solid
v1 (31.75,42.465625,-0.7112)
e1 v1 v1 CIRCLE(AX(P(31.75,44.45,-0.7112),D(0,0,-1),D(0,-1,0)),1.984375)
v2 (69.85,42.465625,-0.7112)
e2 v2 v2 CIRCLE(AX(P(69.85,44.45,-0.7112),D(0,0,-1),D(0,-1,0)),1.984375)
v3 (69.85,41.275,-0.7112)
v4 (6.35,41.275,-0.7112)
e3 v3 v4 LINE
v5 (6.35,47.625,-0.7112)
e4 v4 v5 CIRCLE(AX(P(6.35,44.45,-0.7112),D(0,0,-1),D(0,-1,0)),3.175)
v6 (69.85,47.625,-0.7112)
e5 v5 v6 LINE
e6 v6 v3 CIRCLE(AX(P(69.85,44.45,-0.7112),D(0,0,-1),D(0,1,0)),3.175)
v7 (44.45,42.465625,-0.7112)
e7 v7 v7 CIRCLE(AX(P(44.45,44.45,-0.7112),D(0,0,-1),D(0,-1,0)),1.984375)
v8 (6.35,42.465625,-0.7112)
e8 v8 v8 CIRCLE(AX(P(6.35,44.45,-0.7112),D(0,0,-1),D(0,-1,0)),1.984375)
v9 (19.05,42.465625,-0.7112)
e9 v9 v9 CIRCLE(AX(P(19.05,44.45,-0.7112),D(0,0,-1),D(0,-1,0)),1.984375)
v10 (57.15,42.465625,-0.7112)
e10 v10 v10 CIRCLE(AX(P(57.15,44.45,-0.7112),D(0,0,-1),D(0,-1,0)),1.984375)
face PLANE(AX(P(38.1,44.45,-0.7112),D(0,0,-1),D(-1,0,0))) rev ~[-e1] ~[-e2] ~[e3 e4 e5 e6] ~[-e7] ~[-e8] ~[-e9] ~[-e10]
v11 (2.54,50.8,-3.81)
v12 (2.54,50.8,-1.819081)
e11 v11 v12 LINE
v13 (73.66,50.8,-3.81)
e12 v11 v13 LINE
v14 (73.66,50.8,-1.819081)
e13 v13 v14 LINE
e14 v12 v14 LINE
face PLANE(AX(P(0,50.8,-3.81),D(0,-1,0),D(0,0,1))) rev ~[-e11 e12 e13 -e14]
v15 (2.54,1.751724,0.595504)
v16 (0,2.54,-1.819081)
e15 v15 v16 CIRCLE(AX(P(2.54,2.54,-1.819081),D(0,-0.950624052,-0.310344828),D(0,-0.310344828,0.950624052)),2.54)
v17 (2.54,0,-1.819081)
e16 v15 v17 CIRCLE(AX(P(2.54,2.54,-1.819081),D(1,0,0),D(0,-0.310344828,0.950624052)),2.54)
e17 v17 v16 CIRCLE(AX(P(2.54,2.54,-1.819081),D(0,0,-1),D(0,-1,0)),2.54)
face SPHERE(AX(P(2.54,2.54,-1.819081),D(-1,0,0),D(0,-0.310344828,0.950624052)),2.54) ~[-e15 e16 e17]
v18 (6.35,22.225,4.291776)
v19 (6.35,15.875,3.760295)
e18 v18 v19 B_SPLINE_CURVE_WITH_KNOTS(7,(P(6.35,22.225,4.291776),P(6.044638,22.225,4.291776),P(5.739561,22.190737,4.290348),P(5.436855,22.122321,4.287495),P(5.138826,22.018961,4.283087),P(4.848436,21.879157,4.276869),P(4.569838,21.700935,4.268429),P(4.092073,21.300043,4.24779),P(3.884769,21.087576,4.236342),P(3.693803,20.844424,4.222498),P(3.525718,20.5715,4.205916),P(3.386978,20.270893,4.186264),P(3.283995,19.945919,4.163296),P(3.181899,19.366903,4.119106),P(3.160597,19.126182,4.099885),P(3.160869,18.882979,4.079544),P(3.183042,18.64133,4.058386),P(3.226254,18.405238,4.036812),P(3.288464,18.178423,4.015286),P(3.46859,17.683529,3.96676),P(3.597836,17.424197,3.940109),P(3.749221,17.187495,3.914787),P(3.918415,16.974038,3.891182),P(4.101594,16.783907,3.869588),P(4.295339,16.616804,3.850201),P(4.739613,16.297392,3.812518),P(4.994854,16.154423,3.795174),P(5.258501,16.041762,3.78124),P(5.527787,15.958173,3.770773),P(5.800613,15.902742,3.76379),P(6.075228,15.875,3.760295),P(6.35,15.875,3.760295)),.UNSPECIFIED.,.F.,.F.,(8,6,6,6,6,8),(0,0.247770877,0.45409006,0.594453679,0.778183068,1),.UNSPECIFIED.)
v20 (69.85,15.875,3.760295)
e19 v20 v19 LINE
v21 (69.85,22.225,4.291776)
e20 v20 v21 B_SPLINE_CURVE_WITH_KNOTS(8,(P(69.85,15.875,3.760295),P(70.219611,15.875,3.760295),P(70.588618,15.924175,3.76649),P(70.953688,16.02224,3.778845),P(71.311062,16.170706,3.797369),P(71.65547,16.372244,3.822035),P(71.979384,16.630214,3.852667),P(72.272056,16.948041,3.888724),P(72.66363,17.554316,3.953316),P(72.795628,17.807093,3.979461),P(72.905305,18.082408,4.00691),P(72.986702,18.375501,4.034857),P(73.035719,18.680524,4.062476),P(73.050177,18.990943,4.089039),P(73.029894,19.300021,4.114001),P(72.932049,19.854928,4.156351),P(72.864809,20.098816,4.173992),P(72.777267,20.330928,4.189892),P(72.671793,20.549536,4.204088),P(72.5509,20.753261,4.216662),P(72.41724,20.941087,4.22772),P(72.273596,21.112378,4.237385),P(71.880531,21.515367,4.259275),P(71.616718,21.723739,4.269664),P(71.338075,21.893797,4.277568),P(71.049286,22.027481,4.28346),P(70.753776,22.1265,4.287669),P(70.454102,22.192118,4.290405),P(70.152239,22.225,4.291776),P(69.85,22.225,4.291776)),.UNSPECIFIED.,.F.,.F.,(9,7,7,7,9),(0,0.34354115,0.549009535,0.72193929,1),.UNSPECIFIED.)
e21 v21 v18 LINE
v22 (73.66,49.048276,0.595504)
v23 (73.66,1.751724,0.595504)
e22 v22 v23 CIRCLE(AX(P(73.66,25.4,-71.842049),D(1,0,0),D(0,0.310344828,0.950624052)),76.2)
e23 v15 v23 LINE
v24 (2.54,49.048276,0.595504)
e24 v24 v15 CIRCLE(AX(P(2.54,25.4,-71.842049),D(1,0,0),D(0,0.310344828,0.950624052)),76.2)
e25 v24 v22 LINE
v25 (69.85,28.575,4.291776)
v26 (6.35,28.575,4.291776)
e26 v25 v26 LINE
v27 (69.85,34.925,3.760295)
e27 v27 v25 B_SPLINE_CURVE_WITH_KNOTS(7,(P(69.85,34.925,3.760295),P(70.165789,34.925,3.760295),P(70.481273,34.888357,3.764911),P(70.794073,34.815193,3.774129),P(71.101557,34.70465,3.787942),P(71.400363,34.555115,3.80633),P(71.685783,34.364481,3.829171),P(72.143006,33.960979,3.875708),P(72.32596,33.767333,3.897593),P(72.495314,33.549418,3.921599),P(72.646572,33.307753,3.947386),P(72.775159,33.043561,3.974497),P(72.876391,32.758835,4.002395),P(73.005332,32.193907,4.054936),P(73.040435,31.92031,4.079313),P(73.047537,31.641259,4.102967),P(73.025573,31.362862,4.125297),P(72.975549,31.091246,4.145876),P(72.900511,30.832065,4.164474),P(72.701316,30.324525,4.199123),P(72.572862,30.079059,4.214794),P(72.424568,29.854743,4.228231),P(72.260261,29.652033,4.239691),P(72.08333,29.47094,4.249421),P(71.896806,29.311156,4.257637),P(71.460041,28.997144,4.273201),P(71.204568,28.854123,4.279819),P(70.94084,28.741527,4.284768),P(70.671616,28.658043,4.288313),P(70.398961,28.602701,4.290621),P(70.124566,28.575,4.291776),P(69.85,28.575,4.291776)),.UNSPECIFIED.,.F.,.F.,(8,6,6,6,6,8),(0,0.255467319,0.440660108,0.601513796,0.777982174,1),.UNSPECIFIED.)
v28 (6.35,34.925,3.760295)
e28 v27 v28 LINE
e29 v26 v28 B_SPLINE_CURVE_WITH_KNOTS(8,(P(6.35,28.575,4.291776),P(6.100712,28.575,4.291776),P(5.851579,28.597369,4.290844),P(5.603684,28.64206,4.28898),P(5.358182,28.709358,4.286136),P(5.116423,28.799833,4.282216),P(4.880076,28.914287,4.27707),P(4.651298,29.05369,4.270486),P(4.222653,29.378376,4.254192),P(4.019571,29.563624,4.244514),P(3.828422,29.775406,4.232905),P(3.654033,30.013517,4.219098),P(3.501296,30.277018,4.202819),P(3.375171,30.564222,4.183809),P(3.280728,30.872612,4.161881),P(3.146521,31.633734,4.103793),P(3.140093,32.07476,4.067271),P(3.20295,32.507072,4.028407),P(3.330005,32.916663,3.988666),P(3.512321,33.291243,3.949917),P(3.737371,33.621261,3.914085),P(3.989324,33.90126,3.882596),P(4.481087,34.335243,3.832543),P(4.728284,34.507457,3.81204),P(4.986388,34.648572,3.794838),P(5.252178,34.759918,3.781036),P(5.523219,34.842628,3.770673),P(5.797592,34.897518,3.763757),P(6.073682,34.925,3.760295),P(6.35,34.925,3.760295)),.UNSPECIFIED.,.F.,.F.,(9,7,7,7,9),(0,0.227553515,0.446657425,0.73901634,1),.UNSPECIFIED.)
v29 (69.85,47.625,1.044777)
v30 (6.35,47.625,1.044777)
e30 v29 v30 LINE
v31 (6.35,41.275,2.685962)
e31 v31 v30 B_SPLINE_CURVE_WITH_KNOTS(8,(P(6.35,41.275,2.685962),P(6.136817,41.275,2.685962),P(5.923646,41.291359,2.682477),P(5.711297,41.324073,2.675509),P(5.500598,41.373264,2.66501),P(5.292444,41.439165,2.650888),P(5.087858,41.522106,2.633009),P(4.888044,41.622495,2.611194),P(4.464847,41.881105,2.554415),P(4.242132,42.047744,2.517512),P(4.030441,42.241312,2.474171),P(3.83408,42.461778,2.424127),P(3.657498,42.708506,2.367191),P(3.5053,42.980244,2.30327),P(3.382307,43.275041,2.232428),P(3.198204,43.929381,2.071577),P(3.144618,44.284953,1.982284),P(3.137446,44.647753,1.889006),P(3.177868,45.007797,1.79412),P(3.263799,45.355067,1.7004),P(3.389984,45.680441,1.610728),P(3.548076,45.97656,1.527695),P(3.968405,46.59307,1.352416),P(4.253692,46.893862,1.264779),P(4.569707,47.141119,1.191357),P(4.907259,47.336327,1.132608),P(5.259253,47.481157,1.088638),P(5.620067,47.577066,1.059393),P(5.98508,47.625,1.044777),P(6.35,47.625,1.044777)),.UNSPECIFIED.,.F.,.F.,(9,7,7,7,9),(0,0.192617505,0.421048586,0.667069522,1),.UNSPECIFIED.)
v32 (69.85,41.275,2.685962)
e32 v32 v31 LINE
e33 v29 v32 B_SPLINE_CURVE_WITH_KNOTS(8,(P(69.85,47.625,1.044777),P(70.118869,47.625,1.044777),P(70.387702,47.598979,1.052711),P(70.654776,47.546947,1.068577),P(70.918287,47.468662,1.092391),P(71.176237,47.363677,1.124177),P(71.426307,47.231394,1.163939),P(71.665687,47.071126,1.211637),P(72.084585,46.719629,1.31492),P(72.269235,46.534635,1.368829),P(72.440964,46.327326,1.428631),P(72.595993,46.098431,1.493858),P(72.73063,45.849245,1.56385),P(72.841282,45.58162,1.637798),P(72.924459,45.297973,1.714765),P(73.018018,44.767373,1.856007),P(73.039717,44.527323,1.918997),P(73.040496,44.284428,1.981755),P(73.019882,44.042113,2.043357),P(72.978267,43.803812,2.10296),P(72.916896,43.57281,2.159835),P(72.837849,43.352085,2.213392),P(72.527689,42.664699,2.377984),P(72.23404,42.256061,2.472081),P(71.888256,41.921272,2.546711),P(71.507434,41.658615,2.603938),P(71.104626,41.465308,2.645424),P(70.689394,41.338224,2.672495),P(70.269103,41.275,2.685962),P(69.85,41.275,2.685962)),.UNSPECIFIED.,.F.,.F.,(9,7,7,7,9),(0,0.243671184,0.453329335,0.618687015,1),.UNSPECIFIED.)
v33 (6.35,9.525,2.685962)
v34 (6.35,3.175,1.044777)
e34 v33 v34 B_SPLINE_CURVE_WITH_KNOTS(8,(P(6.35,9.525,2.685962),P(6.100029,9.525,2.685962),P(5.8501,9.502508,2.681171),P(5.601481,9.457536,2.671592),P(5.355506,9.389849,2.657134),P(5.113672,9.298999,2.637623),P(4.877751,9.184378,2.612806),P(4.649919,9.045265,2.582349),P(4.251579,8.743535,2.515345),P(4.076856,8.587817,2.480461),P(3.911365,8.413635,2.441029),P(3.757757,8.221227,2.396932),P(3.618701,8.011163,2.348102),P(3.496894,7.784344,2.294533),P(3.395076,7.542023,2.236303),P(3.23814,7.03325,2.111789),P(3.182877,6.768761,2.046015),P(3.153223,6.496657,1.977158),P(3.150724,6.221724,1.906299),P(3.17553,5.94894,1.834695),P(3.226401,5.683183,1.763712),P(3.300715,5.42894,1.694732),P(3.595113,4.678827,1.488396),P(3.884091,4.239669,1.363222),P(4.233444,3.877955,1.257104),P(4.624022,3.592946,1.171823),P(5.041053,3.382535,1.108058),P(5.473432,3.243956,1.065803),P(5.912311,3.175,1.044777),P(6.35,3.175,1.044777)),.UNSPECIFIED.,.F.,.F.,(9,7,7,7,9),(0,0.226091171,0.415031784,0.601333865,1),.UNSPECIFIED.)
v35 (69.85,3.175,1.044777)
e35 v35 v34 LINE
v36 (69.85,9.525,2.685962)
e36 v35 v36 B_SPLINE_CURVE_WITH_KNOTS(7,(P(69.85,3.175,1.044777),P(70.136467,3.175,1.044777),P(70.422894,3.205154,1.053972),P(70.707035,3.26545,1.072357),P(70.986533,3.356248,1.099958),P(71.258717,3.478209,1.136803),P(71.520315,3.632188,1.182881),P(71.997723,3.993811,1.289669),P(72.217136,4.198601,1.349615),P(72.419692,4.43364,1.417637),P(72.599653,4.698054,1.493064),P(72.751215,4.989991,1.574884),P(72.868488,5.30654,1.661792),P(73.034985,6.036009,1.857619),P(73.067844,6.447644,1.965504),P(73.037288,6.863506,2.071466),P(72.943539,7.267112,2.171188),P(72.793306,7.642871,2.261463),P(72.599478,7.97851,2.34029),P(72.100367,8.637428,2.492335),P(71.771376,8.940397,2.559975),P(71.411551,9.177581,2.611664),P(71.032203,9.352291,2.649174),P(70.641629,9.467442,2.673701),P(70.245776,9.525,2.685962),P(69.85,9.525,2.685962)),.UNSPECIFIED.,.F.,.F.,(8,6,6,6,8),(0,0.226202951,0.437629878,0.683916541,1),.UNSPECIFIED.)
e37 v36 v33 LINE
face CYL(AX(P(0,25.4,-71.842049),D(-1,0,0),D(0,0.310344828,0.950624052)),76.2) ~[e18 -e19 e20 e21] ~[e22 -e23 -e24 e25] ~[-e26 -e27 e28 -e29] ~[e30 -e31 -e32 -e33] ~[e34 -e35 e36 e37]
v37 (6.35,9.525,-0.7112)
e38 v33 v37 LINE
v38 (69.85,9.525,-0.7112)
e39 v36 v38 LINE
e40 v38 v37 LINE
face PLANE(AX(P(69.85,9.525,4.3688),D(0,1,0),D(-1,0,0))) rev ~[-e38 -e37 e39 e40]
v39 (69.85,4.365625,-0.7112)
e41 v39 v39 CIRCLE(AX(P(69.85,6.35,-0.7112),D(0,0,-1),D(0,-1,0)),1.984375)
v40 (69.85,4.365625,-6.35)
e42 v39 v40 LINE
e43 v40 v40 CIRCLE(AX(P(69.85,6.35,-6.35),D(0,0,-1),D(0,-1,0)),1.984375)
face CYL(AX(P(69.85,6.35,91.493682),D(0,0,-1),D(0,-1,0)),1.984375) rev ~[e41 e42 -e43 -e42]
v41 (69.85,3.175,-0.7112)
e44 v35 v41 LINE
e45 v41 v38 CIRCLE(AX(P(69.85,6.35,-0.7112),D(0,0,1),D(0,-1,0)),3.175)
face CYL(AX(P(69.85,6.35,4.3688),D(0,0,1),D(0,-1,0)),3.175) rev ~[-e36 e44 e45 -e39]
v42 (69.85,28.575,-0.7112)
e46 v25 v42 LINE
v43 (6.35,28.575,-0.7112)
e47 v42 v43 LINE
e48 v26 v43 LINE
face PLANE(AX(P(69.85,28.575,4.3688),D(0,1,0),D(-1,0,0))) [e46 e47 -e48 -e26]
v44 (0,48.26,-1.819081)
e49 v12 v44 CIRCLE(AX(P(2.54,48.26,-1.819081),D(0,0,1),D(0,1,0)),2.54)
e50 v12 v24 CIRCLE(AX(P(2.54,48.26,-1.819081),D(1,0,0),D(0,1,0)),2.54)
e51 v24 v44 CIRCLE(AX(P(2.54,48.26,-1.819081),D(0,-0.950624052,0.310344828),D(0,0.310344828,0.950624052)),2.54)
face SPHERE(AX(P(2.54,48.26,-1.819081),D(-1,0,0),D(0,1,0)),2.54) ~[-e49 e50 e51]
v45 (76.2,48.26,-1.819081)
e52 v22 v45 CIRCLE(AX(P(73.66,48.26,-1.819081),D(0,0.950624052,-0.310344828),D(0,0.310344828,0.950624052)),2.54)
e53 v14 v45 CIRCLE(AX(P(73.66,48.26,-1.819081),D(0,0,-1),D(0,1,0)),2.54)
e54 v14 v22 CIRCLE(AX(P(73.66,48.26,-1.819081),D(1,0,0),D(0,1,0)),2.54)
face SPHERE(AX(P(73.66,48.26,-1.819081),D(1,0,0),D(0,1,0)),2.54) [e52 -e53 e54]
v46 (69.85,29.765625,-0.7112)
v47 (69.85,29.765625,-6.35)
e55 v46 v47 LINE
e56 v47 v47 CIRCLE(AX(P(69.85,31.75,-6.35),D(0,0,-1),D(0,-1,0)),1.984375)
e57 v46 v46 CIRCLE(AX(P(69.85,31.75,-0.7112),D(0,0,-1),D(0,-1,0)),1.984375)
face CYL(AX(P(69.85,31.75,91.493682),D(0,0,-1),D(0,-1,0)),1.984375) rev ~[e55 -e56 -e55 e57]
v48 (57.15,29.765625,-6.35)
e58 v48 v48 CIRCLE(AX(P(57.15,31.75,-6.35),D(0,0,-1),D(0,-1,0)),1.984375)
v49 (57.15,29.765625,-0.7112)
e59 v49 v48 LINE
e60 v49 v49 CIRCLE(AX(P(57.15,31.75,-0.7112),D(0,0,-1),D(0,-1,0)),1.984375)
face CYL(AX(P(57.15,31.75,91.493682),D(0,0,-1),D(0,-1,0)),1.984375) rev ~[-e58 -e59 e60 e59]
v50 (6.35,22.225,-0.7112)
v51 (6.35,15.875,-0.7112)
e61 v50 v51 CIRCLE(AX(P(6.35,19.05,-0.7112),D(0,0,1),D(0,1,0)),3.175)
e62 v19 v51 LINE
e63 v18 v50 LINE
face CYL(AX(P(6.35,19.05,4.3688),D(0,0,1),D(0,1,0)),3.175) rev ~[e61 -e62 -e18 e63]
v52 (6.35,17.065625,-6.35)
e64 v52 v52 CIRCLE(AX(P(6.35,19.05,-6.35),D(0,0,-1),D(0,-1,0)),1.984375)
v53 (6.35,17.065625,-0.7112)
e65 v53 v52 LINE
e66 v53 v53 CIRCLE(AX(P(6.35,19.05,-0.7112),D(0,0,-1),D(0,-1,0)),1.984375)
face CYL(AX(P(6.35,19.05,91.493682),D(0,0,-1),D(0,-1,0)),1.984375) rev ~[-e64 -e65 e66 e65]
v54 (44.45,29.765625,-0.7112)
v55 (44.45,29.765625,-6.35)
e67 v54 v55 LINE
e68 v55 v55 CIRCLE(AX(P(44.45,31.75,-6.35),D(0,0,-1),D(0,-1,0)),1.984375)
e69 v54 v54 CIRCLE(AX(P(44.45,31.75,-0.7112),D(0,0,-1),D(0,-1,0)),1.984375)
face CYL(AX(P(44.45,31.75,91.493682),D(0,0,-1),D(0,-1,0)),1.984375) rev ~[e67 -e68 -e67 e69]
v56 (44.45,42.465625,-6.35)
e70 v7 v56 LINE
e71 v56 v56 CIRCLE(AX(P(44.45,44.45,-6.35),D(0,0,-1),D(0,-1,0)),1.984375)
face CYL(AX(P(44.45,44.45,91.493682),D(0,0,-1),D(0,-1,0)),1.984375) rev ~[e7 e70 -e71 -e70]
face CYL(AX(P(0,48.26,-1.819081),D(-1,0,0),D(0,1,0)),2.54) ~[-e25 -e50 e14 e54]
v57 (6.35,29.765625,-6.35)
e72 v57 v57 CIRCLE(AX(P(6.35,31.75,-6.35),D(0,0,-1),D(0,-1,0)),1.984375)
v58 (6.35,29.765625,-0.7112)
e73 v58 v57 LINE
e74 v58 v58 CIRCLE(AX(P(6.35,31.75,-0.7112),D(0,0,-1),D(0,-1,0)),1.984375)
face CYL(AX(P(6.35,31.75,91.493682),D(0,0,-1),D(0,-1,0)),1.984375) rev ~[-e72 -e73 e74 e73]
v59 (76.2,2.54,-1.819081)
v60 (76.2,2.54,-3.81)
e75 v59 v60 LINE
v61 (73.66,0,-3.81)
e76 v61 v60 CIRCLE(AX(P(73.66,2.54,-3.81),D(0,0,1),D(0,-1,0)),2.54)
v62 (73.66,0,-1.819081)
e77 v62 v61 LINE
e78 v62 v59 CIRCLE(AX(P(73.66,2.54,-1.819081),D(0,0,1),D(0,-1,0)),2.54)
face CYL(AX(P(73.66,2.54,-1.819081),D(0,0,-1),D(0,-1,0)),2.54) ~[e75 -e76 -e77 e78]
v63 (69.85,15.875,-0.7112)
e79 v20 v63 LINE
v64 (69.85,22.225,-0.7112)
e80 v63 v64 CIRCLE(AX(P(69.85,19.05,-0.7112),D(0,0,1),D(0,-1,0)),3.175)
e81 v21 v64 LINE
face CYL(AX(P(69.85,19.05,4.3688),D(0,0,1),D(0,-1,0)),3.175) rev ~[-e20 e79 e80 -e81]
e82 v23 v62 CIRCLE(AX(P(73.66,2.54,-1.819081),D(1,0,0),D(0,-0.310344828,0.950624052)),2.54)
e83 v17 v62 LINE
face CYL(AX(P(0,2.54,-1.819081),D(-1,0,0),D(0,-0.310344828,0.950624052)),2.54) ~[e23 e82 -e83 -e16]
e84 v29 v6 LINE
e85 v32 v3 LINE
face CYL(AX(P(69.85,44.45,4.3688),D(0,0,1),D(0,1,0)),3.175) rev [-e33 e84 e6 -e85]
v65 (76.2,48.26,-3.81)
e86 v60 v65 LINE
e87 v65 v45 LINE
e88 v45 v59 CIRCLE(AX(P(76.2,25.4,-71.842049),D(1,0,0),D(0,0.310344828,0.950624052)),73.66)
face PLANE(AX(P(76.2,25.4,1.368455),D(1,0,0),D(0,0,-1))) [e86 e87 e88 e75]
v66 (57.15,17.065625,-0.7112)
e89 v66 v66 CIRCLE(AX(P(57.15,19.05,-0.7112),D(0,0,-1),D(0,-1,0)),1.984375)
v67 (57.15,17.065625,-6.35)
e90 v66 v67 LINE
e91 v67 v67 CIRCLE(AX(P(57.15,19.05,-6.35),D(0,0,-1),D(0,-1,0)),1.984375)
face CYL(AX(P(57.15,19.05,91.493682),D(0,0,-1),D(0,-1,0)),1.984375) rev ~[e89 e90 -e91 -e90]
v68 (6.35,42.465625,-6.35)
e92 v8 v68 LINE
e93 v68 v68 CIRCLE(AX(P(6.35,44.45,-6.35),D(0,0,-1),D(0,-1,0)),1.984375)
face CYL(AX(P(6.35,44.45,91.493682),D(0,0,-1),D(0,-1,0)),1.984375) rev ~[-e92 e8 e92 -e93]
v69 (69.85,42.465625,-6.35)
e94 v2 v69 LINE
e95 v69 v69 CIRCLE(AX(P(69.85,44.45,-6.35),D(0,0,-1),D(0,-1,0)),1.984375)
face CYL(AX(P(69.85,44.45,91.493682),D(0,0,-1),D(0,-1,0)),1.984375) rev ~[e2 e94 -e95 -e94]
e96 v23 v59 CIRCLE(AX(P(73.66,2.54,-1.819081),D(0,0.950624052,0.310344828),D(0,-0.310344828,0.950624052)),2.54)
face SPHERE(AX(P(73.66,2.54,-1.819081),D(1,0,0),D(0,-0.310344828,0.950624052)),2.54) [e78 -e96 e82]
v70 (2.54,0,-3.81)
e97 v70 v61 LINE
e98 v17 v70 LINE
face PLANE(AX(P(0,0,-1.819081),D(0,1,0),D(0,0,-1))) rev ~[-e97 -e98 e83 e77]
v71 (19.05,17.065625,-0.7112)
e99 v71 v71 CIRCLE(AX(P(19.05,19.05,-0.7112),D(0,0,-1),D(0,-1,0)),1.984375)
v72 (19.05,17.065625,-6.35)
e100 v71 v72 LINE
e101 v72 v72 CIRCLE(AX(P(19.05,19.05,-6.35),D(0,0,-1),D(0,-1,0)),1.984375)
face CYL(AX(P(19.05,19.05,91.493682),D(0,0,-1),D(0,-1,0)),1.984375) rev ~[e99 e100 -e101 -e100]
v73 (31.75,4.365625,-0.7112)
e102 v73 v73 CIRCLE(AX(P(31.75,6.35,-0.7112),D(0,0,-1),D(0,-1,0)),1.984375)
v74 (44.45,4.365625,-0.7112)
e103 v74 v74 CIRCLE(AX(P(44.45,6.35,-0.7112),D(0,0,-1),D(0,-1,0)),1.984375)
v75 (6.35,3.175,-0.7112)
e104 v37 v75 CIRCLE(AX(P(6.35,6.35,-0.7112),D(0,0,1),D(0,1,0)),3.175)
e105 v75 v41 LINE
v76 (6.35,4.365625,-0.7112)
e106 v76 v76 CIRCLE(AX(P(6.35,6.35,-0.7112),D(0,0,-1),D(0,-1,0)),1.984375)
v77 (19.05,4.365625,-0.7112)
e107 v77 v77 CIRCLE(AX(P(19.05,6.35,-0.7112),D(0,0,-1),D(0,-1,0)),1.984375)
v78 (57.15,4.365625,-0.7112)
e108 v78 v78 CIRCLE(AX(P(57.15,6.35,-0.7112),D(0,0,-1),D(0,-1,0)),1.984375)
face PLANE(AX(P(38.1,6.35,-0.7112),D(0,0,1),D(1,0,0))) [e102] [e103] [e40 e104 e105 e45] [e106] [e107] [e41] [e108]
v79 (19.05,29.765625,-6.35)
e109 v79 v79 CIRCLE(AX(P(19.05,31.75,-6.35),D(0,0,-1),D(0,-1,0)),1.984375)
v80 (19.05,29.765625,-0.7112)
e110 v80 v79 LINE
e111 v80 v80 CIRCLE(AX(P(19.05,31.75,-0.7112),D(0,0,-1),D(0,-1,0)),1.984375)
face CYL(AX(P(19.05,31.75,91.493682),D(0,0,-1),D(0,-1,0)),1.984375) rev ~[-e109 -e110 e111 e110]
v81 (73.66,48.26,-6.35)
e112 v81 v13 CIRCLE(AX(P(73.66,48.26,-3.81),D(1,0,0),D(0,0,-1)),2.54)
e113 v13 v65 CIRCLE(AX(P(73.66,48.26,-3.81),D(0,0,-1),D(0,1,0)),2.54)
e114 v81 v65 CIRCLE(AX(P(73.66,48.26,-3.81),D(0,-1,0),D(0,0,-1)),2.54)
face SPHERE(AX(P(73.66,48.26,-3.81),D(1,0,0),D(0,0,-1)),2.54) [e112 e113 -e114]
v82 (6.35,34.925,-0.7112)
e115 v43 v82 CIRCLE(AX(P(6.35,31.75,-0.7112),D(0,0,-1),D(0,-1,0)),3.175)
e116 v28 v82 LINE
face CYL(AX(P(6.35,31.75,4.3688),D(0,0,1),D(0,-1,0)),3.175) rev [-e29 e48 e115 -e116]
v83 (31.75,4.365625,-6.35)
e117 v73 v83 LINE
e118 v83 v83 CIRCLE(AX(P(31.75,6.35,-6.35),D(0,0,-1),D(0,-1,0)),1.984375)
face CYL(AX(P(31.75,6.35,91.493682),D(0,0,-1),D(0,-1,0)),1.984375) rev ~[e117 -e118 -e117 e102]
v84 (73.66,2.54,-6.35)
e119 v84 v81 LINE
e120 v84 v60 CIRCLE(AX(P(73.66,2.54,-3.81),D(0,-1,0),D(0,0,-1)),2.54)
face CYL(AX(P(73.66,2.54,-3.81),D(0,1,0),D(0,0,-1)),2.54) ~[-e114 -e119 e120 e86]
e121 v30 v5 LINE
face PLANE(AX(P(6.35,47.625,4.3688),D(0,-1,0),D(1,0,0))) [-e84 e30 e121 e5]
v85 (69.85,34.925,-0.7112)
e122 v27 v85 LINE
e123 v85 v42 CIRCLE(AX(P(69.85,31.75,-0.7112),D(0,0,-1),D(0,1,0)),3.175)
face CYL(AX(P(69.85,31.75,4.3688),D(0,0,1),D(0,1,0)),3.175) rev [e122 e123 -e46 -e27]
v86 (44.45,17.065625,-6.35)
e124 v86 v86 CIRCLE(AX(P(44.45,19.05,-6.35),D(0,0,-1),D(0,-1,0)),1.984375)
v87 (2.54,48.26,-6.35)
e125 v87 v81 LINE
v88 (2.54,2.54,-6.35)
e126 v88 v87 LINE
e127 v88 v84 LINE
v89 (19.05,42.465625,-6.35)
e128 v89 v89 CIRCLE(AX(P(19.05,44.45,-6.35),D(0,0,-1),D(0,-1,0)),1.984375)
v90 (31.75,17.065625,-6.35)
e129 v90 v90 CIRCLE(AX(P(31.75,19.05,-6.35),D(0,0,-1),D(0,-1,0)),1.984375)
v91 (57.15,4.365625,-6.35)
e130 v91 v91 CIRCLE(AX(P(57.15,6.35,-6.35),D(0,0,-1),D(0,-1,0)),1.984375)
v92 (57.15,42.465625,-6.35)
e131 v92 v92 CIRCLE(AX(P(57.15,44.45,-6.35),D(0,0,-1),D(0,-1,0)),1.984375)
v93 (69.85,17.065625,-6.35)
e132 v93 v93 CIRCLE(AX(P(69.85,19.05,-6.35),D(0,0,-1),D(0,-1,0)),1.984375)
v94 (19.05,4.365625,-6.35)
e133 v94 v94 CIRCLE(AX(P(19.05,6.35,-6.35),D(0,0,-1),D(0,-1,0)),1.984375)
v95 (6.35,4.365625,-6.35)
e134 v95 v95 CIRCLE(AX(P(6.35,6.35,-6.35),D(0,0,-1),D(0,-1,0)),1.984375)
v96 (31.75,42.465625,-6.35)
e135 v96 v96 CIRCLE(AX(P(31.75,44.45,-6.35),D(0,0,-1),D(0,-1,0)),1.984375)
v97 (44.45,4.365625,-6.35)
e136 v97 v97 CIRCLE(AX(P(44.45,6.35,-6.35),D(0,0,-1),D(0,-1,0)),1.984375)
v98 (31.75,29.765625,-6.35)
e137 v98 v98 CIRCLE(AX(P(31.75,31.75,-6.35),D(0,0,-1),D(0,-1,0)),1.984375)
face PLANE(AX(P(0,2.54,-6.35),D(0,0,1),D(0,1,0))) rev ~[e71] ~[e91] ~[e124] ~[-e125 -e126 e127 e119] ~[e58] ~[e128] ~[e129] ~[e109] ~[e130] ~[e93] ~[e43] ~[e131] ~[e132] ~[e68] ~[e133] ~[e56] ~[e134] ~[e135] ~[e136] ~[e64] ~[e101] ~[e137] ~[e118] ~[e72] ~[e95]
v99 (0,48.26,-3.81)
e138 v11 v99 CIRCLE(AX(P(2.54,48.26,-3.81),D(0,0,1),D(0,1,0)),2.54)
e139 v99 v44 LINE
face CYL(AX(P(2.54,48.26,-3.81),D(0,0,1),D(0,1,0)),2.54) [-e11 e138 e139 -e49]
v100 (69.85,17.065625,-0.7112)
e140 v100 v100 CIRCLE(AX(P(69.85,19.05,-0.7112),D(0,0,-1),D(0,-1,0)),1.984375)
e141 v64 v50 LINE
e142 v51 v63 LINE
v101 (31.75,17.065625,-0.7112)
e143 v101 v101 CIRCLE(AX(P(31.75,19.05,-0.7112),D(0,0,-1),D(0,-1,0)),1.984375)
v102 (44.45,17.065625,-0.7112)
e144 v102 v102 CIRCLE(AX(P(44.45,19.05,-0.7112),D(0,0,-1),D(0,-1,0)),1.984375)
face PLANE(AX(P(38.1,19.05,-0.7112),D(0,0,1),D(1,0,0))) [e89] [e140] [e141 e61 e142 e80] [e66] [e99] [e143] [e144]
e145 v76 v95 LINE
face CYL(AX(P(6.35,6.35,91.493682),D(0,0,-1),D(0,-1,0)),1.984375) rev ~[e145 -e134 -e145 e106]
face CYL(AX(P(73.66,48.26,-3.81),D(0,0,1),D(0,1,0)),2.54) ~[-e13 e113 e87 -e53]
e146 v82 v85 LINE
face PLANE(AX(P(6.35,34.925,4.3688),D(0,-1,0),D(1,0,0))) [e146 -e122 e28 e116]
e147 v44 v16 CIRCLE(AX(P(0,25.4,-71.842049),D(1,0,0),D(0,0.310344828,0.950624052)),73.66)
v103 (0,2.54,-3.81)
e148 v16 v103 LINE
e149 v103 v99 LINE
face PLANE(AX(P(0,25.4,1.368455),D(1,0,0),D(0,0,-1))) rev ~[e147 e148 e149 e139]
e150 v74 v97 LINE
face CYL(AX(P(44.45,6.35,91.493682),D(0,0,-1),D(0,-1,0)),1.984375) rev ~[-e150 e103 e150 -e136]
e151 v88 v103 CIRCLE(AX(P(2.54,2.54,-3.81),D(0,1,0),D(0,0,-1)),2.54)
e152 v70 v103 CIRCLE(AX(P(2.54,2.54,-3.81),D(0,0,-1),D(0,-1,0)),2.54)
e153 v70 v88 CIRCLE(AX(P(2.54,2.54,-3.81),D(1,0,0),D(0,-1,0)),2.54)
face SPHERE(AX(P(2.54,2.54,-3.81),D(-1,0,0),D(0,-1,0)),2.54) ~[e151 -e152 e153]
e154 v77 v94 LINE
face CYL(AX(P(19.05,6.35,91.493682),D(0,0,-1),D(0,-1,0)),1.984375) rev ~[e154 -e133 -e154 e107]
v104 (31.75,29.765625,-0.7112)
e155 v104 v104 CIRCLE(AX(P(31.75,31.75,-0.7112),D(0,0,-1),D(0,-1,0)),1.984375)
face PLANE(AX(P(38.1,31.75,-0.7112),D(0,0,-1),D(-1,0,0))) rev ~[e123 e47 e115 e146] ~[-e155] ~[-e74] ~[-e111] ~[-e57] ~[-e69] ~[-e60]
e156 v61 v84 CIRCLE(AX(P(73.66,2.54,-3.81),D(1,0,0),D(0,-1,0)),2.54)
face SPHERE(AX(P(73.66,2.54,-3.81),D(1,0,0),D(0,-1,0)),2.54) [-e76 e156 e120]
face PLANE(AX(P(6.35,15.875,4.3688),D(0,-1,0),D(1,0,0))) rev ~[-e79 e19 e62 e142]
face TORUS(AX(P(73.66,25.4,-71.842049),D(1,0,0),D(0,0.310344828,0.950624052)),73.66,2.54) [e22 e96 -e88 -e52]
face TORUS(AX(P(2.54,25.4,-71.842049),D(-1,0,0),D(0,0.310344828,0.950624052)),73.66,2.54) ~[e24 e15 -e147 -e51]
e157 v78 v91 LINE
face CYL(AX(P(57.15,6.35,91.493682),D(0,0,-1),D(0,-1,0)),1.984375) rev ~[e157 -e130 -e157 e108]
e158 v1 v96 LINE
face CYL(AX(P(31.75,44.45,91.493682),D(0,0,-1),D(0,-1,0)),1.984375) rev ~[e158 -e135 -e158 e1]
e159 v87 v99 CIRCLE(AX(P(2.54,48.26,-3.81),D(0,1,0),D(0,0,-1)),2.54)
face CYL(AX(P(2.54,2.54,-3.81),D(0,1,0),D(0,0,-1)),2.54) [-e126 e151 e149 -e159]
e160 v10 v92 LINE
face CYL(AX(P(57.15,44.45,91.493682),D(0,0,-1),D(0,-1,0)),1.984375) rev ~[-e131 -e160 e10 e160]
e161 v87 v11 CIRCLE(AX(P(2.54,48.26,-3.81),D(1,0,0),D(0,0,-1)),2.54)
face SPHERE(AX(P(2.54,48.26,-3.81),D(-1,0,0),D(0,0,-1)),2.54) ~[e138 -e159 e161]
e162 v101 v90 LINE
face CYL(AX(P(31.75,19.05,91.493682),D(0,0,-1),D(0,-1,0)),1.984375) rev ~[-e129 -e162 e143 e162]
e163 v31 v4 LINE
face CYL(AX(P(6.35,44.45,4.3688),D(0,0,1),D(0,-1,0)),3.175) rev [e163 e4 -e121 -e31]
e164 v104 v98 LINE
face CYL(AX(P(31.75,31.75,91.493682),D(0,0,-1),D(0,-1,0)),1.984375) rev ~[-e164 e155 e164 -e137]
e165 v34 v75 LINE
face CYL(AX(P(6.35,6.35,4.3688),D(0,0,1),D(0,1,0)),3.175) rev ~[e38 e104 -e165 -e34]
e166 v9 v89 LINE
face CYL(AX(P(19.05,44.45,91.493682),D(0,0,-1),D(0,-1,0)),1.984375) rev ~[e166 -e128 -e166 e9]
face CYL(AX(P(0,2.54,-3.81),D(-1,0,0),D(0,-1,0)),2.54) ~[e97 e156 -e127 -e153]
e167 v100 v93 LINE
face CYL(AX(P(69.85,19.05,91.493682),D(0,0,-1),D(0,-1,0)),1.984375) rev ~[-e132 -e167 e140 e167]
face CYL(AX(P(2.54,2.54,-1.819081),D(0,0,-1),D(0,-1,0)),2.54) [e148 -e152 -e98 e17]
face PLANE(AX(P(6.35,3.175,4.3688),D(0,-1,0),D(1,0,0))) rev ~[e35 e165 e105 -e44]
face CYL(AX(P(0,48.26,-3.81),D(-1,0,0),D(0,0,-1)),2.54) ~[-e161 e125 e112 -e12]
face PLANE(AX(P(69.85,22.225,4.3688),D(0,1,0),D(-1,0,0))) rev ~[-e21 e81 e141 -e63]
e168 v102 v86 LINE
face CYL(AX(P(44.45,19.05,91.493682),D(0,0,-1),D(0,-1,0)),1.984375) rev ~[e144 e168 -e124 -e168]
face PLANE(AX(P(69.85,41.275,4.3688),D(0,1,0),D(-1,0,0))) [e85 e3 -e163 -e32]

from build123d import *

# Parameters (mm, degrees)
BOSS_EXTRUDE1_DEPTH             = 76.2
FILLET1_R                       = 2.54
CUT_EXTRUDE1_DEPTH              = 5.08
F_5_32_0_15625_DIAMETER_HOLE1_D = 3.96875


with BuildPart() as part:
    # Sketch3 → Boss-Extrude1 (new body)
    with BuildSketch(Plane(origin=(0, 0, 0), x_dir=(0, 0, -1), z_dir=(1, 0, 0))):
        with BuildLine():
            ThreePointArc((-0.5955037838105575, 1.7517241379310349), (-0.3542263859949928, 1.225338953378048), (-1.2301e-13, 0.7672780265587602))
            Line((0, 0.7672780265588011), (0, 50.0327219734412))
            ThreePointArc((-1.2323e-13, 50.03272197344124), (-0.3542263859949948, 49.57466104662194), (-0.5955037838105568, 49.04827586206895))
            ThreePointArc((-0.5955037838105568, 49.04827586206895), (-4.35795103144676, 25.399999999999988), (-0.5955037838105568, 1.7517241379310349))
        make_face()
        with BuildLine():
            Line((0, 50.0327219734412), (0, 0.7672780265588011))
            ThreePointArc((-1.2301e-13, 0.7672780265587602), (0.8319424657603935, 0.19966735136426017), (1.8190813079349, -4.4e-16))
            Line((1.8190813079349, 0), (3.8099999999999925, 0))
            ThreePointArc((3.8099999999999925, 4.4e-16), (5.606051224213842, 0.7439487757861691), (6.350000000000011, 2.5400000000000182))
            Line((6.350000000000011, 2.5400000000000205), (6.3500000000000005, 48.26))
            ThreePointArc((6.350000000000003, 48.26), (5.606051224213832, 50.05605122421383), (3.81, 50.8))
            Line((3.8100000000000005, 50.8), (1.8190813079348995, 50.8))
            ThreePointArc((1.8190813079348995, 50.8), (0.8319424657603925, 50.60033264863574), (-1.2323e-13, 50.03272197344124))
        make_face()
    extrude(amount=BOSS_EXTRUDE1_DEPTH)

    # Fillet1
    fillet1_edges = [part.edges().sort_by_distance(p)[0] for p in [
        (0, 50.315945122036965, -0.3275419503675465),
        (0, 50.8, -2.81454065396745),
        (76.2, 0, -2.8145406539674465),
        (0, 50.05605122421383, -5.606051224213833),
        (0, 25.40000000000001, -6.350000000000006),
        (0, 0.7439487757861691, -5.606051224213842),
        (0, 0, -2.8145406539674465),
        (0, 0.4840548779630356, -0.32754195036755385),
        (76.2, 0.7439487757861691, -5.606051224213842),
        (76.2, 25.40000000000001, -6.350000000000006),
        (76.2, 50.05605122421383, -5.606051224213833),
        (76.2, 50.8, -2.81454065396745),
        (76.2, 50.31594512203697, -0.3275419503675483),
        (76.2, 25.399999999999988, 4.35795103144676),
        (76.2, 0.48405487796303426, -0.32754195036755385),
        (0, 25.399999999999988, 4.35795103144676),
    ]]
    fillet(fillet1_edges, radius=FILLET1_R)

    # Sketch5 → Cut-Extrude1 (cut)
    with BuildSketch(Plane(origin=(0, -9.9e-16, 4.368799999999987), x_dir=(-1, 0, 0), z_dir=(0, 2.3e-16, -1))):
        with BuildLine():
            Line((-6.3500000000000085, 47.625), (-69.85000000000002, 47.62499999999999))
            ThreePointArc((-69.85000000000002, 47.62499999999999), (-73.02500000000002, 44.449999999999996), (-69.85000000000002, 41.275))
            Line((-69.85000000000002, 41.275), (-6.3500000000000085, 41.275))
            ThreePointArc((-6.3500000000000085, 41.275), (-3.1750000000000114, 44.449999999999996), (-6.3500000000000085, 47.625))
        make_face()
        with BuildLine():
            Line((-6.34999999999987, 34.925), (-69.84999999999988, 34.925))
            ThreePointArc((-69.84999999999988, 34.925), (-73.02499999999988, 31.75), (-69.84999999999988, 28.575000000000003))
            Line((-69.84999999999988, 28.575000000000003), (-6.34999999999987, 28.575000000000003))
            ThreePointArc((-6.34999999999987, 28.575000000000003), (-3.174999999999873, 31.75), (-6.34999999999987, 34.925))
        make_face()
        with BuildLine():
            Line((-6.34999999999987, 15.875000000000014), (-69.84999999999988, 15.875000000000014))
            ThreePointArc((-69.84999999999988, 15.875000000000014), (-73.02499999999974, 19.049999999999997), (-69.84999999999988, 22.22500000000001))
            Line((-69.84999999999988, 22.22500000000001), (-6.34999999999987, 22.22500000000001))
            ThreePointArc((-6.34999999999987, 22.22500000000001), (-3.174999999999873, 19.05000000000001), (-6.34999999999987, 15.875000000000014))
        make_face()
        with BuildLine():
            Line((-6.3500000000000085, 3.1750000000000114), (-69.85000000000002, 3.175000000000018))
            ThreePointArc((-69.85000000000002, 3.175000000000018), (-73.02500000000002, 6.350000000000016), (-69.85000000000002, 9.525000000000013))
            Line((-69.85000000000002, 9.525000000000013), (-6.3500000000000085, 9.525000000000013))
            ThreePointArc((-6.3500000000000085, 9.525000000000013), (-3.1750000000000114, 6.350000000000016), (-6.3500000000000085, 3.1750000000000114))
        make_face()
    extrude(amount=CUT_EXTRUDE1_DEPTH, mode=Mode.SUBTRACT)

    # 5/32 (0.15625) Diameter Hole1 (through all)
    with Locations(Plane(origin=(6.35, 44.45, -0.7112), x_dir=(0, 1, 0), z_dir=(0, 0, 1))):
        with Locations((0, 0), (0, -12.7), (0, -25.4), (0, -38.1), (0, -50.8), (0, -63.5), (-12.7, 0), (-12.7, -12.7), (-12.7, -25.4), (-12.7, -38.1), (-12.7, -50.8), (-12.7, -63.5), (-25.4, -63.5), (-25.4, -50.8), (-25.4, -38.1), (-25.4, -25.4), (-25.4, -12.7), (-25.4, 0), (-38.1, 0), (-38.1, -12.7), (-38.1, -25.4), (-38.1, -38.1), (-38.1, -50.8), (-38.1, -63.5)):
            Hole(F_5_32_0_15625_DIAMETER_HOLE1_D / 2)


solid = part.part
